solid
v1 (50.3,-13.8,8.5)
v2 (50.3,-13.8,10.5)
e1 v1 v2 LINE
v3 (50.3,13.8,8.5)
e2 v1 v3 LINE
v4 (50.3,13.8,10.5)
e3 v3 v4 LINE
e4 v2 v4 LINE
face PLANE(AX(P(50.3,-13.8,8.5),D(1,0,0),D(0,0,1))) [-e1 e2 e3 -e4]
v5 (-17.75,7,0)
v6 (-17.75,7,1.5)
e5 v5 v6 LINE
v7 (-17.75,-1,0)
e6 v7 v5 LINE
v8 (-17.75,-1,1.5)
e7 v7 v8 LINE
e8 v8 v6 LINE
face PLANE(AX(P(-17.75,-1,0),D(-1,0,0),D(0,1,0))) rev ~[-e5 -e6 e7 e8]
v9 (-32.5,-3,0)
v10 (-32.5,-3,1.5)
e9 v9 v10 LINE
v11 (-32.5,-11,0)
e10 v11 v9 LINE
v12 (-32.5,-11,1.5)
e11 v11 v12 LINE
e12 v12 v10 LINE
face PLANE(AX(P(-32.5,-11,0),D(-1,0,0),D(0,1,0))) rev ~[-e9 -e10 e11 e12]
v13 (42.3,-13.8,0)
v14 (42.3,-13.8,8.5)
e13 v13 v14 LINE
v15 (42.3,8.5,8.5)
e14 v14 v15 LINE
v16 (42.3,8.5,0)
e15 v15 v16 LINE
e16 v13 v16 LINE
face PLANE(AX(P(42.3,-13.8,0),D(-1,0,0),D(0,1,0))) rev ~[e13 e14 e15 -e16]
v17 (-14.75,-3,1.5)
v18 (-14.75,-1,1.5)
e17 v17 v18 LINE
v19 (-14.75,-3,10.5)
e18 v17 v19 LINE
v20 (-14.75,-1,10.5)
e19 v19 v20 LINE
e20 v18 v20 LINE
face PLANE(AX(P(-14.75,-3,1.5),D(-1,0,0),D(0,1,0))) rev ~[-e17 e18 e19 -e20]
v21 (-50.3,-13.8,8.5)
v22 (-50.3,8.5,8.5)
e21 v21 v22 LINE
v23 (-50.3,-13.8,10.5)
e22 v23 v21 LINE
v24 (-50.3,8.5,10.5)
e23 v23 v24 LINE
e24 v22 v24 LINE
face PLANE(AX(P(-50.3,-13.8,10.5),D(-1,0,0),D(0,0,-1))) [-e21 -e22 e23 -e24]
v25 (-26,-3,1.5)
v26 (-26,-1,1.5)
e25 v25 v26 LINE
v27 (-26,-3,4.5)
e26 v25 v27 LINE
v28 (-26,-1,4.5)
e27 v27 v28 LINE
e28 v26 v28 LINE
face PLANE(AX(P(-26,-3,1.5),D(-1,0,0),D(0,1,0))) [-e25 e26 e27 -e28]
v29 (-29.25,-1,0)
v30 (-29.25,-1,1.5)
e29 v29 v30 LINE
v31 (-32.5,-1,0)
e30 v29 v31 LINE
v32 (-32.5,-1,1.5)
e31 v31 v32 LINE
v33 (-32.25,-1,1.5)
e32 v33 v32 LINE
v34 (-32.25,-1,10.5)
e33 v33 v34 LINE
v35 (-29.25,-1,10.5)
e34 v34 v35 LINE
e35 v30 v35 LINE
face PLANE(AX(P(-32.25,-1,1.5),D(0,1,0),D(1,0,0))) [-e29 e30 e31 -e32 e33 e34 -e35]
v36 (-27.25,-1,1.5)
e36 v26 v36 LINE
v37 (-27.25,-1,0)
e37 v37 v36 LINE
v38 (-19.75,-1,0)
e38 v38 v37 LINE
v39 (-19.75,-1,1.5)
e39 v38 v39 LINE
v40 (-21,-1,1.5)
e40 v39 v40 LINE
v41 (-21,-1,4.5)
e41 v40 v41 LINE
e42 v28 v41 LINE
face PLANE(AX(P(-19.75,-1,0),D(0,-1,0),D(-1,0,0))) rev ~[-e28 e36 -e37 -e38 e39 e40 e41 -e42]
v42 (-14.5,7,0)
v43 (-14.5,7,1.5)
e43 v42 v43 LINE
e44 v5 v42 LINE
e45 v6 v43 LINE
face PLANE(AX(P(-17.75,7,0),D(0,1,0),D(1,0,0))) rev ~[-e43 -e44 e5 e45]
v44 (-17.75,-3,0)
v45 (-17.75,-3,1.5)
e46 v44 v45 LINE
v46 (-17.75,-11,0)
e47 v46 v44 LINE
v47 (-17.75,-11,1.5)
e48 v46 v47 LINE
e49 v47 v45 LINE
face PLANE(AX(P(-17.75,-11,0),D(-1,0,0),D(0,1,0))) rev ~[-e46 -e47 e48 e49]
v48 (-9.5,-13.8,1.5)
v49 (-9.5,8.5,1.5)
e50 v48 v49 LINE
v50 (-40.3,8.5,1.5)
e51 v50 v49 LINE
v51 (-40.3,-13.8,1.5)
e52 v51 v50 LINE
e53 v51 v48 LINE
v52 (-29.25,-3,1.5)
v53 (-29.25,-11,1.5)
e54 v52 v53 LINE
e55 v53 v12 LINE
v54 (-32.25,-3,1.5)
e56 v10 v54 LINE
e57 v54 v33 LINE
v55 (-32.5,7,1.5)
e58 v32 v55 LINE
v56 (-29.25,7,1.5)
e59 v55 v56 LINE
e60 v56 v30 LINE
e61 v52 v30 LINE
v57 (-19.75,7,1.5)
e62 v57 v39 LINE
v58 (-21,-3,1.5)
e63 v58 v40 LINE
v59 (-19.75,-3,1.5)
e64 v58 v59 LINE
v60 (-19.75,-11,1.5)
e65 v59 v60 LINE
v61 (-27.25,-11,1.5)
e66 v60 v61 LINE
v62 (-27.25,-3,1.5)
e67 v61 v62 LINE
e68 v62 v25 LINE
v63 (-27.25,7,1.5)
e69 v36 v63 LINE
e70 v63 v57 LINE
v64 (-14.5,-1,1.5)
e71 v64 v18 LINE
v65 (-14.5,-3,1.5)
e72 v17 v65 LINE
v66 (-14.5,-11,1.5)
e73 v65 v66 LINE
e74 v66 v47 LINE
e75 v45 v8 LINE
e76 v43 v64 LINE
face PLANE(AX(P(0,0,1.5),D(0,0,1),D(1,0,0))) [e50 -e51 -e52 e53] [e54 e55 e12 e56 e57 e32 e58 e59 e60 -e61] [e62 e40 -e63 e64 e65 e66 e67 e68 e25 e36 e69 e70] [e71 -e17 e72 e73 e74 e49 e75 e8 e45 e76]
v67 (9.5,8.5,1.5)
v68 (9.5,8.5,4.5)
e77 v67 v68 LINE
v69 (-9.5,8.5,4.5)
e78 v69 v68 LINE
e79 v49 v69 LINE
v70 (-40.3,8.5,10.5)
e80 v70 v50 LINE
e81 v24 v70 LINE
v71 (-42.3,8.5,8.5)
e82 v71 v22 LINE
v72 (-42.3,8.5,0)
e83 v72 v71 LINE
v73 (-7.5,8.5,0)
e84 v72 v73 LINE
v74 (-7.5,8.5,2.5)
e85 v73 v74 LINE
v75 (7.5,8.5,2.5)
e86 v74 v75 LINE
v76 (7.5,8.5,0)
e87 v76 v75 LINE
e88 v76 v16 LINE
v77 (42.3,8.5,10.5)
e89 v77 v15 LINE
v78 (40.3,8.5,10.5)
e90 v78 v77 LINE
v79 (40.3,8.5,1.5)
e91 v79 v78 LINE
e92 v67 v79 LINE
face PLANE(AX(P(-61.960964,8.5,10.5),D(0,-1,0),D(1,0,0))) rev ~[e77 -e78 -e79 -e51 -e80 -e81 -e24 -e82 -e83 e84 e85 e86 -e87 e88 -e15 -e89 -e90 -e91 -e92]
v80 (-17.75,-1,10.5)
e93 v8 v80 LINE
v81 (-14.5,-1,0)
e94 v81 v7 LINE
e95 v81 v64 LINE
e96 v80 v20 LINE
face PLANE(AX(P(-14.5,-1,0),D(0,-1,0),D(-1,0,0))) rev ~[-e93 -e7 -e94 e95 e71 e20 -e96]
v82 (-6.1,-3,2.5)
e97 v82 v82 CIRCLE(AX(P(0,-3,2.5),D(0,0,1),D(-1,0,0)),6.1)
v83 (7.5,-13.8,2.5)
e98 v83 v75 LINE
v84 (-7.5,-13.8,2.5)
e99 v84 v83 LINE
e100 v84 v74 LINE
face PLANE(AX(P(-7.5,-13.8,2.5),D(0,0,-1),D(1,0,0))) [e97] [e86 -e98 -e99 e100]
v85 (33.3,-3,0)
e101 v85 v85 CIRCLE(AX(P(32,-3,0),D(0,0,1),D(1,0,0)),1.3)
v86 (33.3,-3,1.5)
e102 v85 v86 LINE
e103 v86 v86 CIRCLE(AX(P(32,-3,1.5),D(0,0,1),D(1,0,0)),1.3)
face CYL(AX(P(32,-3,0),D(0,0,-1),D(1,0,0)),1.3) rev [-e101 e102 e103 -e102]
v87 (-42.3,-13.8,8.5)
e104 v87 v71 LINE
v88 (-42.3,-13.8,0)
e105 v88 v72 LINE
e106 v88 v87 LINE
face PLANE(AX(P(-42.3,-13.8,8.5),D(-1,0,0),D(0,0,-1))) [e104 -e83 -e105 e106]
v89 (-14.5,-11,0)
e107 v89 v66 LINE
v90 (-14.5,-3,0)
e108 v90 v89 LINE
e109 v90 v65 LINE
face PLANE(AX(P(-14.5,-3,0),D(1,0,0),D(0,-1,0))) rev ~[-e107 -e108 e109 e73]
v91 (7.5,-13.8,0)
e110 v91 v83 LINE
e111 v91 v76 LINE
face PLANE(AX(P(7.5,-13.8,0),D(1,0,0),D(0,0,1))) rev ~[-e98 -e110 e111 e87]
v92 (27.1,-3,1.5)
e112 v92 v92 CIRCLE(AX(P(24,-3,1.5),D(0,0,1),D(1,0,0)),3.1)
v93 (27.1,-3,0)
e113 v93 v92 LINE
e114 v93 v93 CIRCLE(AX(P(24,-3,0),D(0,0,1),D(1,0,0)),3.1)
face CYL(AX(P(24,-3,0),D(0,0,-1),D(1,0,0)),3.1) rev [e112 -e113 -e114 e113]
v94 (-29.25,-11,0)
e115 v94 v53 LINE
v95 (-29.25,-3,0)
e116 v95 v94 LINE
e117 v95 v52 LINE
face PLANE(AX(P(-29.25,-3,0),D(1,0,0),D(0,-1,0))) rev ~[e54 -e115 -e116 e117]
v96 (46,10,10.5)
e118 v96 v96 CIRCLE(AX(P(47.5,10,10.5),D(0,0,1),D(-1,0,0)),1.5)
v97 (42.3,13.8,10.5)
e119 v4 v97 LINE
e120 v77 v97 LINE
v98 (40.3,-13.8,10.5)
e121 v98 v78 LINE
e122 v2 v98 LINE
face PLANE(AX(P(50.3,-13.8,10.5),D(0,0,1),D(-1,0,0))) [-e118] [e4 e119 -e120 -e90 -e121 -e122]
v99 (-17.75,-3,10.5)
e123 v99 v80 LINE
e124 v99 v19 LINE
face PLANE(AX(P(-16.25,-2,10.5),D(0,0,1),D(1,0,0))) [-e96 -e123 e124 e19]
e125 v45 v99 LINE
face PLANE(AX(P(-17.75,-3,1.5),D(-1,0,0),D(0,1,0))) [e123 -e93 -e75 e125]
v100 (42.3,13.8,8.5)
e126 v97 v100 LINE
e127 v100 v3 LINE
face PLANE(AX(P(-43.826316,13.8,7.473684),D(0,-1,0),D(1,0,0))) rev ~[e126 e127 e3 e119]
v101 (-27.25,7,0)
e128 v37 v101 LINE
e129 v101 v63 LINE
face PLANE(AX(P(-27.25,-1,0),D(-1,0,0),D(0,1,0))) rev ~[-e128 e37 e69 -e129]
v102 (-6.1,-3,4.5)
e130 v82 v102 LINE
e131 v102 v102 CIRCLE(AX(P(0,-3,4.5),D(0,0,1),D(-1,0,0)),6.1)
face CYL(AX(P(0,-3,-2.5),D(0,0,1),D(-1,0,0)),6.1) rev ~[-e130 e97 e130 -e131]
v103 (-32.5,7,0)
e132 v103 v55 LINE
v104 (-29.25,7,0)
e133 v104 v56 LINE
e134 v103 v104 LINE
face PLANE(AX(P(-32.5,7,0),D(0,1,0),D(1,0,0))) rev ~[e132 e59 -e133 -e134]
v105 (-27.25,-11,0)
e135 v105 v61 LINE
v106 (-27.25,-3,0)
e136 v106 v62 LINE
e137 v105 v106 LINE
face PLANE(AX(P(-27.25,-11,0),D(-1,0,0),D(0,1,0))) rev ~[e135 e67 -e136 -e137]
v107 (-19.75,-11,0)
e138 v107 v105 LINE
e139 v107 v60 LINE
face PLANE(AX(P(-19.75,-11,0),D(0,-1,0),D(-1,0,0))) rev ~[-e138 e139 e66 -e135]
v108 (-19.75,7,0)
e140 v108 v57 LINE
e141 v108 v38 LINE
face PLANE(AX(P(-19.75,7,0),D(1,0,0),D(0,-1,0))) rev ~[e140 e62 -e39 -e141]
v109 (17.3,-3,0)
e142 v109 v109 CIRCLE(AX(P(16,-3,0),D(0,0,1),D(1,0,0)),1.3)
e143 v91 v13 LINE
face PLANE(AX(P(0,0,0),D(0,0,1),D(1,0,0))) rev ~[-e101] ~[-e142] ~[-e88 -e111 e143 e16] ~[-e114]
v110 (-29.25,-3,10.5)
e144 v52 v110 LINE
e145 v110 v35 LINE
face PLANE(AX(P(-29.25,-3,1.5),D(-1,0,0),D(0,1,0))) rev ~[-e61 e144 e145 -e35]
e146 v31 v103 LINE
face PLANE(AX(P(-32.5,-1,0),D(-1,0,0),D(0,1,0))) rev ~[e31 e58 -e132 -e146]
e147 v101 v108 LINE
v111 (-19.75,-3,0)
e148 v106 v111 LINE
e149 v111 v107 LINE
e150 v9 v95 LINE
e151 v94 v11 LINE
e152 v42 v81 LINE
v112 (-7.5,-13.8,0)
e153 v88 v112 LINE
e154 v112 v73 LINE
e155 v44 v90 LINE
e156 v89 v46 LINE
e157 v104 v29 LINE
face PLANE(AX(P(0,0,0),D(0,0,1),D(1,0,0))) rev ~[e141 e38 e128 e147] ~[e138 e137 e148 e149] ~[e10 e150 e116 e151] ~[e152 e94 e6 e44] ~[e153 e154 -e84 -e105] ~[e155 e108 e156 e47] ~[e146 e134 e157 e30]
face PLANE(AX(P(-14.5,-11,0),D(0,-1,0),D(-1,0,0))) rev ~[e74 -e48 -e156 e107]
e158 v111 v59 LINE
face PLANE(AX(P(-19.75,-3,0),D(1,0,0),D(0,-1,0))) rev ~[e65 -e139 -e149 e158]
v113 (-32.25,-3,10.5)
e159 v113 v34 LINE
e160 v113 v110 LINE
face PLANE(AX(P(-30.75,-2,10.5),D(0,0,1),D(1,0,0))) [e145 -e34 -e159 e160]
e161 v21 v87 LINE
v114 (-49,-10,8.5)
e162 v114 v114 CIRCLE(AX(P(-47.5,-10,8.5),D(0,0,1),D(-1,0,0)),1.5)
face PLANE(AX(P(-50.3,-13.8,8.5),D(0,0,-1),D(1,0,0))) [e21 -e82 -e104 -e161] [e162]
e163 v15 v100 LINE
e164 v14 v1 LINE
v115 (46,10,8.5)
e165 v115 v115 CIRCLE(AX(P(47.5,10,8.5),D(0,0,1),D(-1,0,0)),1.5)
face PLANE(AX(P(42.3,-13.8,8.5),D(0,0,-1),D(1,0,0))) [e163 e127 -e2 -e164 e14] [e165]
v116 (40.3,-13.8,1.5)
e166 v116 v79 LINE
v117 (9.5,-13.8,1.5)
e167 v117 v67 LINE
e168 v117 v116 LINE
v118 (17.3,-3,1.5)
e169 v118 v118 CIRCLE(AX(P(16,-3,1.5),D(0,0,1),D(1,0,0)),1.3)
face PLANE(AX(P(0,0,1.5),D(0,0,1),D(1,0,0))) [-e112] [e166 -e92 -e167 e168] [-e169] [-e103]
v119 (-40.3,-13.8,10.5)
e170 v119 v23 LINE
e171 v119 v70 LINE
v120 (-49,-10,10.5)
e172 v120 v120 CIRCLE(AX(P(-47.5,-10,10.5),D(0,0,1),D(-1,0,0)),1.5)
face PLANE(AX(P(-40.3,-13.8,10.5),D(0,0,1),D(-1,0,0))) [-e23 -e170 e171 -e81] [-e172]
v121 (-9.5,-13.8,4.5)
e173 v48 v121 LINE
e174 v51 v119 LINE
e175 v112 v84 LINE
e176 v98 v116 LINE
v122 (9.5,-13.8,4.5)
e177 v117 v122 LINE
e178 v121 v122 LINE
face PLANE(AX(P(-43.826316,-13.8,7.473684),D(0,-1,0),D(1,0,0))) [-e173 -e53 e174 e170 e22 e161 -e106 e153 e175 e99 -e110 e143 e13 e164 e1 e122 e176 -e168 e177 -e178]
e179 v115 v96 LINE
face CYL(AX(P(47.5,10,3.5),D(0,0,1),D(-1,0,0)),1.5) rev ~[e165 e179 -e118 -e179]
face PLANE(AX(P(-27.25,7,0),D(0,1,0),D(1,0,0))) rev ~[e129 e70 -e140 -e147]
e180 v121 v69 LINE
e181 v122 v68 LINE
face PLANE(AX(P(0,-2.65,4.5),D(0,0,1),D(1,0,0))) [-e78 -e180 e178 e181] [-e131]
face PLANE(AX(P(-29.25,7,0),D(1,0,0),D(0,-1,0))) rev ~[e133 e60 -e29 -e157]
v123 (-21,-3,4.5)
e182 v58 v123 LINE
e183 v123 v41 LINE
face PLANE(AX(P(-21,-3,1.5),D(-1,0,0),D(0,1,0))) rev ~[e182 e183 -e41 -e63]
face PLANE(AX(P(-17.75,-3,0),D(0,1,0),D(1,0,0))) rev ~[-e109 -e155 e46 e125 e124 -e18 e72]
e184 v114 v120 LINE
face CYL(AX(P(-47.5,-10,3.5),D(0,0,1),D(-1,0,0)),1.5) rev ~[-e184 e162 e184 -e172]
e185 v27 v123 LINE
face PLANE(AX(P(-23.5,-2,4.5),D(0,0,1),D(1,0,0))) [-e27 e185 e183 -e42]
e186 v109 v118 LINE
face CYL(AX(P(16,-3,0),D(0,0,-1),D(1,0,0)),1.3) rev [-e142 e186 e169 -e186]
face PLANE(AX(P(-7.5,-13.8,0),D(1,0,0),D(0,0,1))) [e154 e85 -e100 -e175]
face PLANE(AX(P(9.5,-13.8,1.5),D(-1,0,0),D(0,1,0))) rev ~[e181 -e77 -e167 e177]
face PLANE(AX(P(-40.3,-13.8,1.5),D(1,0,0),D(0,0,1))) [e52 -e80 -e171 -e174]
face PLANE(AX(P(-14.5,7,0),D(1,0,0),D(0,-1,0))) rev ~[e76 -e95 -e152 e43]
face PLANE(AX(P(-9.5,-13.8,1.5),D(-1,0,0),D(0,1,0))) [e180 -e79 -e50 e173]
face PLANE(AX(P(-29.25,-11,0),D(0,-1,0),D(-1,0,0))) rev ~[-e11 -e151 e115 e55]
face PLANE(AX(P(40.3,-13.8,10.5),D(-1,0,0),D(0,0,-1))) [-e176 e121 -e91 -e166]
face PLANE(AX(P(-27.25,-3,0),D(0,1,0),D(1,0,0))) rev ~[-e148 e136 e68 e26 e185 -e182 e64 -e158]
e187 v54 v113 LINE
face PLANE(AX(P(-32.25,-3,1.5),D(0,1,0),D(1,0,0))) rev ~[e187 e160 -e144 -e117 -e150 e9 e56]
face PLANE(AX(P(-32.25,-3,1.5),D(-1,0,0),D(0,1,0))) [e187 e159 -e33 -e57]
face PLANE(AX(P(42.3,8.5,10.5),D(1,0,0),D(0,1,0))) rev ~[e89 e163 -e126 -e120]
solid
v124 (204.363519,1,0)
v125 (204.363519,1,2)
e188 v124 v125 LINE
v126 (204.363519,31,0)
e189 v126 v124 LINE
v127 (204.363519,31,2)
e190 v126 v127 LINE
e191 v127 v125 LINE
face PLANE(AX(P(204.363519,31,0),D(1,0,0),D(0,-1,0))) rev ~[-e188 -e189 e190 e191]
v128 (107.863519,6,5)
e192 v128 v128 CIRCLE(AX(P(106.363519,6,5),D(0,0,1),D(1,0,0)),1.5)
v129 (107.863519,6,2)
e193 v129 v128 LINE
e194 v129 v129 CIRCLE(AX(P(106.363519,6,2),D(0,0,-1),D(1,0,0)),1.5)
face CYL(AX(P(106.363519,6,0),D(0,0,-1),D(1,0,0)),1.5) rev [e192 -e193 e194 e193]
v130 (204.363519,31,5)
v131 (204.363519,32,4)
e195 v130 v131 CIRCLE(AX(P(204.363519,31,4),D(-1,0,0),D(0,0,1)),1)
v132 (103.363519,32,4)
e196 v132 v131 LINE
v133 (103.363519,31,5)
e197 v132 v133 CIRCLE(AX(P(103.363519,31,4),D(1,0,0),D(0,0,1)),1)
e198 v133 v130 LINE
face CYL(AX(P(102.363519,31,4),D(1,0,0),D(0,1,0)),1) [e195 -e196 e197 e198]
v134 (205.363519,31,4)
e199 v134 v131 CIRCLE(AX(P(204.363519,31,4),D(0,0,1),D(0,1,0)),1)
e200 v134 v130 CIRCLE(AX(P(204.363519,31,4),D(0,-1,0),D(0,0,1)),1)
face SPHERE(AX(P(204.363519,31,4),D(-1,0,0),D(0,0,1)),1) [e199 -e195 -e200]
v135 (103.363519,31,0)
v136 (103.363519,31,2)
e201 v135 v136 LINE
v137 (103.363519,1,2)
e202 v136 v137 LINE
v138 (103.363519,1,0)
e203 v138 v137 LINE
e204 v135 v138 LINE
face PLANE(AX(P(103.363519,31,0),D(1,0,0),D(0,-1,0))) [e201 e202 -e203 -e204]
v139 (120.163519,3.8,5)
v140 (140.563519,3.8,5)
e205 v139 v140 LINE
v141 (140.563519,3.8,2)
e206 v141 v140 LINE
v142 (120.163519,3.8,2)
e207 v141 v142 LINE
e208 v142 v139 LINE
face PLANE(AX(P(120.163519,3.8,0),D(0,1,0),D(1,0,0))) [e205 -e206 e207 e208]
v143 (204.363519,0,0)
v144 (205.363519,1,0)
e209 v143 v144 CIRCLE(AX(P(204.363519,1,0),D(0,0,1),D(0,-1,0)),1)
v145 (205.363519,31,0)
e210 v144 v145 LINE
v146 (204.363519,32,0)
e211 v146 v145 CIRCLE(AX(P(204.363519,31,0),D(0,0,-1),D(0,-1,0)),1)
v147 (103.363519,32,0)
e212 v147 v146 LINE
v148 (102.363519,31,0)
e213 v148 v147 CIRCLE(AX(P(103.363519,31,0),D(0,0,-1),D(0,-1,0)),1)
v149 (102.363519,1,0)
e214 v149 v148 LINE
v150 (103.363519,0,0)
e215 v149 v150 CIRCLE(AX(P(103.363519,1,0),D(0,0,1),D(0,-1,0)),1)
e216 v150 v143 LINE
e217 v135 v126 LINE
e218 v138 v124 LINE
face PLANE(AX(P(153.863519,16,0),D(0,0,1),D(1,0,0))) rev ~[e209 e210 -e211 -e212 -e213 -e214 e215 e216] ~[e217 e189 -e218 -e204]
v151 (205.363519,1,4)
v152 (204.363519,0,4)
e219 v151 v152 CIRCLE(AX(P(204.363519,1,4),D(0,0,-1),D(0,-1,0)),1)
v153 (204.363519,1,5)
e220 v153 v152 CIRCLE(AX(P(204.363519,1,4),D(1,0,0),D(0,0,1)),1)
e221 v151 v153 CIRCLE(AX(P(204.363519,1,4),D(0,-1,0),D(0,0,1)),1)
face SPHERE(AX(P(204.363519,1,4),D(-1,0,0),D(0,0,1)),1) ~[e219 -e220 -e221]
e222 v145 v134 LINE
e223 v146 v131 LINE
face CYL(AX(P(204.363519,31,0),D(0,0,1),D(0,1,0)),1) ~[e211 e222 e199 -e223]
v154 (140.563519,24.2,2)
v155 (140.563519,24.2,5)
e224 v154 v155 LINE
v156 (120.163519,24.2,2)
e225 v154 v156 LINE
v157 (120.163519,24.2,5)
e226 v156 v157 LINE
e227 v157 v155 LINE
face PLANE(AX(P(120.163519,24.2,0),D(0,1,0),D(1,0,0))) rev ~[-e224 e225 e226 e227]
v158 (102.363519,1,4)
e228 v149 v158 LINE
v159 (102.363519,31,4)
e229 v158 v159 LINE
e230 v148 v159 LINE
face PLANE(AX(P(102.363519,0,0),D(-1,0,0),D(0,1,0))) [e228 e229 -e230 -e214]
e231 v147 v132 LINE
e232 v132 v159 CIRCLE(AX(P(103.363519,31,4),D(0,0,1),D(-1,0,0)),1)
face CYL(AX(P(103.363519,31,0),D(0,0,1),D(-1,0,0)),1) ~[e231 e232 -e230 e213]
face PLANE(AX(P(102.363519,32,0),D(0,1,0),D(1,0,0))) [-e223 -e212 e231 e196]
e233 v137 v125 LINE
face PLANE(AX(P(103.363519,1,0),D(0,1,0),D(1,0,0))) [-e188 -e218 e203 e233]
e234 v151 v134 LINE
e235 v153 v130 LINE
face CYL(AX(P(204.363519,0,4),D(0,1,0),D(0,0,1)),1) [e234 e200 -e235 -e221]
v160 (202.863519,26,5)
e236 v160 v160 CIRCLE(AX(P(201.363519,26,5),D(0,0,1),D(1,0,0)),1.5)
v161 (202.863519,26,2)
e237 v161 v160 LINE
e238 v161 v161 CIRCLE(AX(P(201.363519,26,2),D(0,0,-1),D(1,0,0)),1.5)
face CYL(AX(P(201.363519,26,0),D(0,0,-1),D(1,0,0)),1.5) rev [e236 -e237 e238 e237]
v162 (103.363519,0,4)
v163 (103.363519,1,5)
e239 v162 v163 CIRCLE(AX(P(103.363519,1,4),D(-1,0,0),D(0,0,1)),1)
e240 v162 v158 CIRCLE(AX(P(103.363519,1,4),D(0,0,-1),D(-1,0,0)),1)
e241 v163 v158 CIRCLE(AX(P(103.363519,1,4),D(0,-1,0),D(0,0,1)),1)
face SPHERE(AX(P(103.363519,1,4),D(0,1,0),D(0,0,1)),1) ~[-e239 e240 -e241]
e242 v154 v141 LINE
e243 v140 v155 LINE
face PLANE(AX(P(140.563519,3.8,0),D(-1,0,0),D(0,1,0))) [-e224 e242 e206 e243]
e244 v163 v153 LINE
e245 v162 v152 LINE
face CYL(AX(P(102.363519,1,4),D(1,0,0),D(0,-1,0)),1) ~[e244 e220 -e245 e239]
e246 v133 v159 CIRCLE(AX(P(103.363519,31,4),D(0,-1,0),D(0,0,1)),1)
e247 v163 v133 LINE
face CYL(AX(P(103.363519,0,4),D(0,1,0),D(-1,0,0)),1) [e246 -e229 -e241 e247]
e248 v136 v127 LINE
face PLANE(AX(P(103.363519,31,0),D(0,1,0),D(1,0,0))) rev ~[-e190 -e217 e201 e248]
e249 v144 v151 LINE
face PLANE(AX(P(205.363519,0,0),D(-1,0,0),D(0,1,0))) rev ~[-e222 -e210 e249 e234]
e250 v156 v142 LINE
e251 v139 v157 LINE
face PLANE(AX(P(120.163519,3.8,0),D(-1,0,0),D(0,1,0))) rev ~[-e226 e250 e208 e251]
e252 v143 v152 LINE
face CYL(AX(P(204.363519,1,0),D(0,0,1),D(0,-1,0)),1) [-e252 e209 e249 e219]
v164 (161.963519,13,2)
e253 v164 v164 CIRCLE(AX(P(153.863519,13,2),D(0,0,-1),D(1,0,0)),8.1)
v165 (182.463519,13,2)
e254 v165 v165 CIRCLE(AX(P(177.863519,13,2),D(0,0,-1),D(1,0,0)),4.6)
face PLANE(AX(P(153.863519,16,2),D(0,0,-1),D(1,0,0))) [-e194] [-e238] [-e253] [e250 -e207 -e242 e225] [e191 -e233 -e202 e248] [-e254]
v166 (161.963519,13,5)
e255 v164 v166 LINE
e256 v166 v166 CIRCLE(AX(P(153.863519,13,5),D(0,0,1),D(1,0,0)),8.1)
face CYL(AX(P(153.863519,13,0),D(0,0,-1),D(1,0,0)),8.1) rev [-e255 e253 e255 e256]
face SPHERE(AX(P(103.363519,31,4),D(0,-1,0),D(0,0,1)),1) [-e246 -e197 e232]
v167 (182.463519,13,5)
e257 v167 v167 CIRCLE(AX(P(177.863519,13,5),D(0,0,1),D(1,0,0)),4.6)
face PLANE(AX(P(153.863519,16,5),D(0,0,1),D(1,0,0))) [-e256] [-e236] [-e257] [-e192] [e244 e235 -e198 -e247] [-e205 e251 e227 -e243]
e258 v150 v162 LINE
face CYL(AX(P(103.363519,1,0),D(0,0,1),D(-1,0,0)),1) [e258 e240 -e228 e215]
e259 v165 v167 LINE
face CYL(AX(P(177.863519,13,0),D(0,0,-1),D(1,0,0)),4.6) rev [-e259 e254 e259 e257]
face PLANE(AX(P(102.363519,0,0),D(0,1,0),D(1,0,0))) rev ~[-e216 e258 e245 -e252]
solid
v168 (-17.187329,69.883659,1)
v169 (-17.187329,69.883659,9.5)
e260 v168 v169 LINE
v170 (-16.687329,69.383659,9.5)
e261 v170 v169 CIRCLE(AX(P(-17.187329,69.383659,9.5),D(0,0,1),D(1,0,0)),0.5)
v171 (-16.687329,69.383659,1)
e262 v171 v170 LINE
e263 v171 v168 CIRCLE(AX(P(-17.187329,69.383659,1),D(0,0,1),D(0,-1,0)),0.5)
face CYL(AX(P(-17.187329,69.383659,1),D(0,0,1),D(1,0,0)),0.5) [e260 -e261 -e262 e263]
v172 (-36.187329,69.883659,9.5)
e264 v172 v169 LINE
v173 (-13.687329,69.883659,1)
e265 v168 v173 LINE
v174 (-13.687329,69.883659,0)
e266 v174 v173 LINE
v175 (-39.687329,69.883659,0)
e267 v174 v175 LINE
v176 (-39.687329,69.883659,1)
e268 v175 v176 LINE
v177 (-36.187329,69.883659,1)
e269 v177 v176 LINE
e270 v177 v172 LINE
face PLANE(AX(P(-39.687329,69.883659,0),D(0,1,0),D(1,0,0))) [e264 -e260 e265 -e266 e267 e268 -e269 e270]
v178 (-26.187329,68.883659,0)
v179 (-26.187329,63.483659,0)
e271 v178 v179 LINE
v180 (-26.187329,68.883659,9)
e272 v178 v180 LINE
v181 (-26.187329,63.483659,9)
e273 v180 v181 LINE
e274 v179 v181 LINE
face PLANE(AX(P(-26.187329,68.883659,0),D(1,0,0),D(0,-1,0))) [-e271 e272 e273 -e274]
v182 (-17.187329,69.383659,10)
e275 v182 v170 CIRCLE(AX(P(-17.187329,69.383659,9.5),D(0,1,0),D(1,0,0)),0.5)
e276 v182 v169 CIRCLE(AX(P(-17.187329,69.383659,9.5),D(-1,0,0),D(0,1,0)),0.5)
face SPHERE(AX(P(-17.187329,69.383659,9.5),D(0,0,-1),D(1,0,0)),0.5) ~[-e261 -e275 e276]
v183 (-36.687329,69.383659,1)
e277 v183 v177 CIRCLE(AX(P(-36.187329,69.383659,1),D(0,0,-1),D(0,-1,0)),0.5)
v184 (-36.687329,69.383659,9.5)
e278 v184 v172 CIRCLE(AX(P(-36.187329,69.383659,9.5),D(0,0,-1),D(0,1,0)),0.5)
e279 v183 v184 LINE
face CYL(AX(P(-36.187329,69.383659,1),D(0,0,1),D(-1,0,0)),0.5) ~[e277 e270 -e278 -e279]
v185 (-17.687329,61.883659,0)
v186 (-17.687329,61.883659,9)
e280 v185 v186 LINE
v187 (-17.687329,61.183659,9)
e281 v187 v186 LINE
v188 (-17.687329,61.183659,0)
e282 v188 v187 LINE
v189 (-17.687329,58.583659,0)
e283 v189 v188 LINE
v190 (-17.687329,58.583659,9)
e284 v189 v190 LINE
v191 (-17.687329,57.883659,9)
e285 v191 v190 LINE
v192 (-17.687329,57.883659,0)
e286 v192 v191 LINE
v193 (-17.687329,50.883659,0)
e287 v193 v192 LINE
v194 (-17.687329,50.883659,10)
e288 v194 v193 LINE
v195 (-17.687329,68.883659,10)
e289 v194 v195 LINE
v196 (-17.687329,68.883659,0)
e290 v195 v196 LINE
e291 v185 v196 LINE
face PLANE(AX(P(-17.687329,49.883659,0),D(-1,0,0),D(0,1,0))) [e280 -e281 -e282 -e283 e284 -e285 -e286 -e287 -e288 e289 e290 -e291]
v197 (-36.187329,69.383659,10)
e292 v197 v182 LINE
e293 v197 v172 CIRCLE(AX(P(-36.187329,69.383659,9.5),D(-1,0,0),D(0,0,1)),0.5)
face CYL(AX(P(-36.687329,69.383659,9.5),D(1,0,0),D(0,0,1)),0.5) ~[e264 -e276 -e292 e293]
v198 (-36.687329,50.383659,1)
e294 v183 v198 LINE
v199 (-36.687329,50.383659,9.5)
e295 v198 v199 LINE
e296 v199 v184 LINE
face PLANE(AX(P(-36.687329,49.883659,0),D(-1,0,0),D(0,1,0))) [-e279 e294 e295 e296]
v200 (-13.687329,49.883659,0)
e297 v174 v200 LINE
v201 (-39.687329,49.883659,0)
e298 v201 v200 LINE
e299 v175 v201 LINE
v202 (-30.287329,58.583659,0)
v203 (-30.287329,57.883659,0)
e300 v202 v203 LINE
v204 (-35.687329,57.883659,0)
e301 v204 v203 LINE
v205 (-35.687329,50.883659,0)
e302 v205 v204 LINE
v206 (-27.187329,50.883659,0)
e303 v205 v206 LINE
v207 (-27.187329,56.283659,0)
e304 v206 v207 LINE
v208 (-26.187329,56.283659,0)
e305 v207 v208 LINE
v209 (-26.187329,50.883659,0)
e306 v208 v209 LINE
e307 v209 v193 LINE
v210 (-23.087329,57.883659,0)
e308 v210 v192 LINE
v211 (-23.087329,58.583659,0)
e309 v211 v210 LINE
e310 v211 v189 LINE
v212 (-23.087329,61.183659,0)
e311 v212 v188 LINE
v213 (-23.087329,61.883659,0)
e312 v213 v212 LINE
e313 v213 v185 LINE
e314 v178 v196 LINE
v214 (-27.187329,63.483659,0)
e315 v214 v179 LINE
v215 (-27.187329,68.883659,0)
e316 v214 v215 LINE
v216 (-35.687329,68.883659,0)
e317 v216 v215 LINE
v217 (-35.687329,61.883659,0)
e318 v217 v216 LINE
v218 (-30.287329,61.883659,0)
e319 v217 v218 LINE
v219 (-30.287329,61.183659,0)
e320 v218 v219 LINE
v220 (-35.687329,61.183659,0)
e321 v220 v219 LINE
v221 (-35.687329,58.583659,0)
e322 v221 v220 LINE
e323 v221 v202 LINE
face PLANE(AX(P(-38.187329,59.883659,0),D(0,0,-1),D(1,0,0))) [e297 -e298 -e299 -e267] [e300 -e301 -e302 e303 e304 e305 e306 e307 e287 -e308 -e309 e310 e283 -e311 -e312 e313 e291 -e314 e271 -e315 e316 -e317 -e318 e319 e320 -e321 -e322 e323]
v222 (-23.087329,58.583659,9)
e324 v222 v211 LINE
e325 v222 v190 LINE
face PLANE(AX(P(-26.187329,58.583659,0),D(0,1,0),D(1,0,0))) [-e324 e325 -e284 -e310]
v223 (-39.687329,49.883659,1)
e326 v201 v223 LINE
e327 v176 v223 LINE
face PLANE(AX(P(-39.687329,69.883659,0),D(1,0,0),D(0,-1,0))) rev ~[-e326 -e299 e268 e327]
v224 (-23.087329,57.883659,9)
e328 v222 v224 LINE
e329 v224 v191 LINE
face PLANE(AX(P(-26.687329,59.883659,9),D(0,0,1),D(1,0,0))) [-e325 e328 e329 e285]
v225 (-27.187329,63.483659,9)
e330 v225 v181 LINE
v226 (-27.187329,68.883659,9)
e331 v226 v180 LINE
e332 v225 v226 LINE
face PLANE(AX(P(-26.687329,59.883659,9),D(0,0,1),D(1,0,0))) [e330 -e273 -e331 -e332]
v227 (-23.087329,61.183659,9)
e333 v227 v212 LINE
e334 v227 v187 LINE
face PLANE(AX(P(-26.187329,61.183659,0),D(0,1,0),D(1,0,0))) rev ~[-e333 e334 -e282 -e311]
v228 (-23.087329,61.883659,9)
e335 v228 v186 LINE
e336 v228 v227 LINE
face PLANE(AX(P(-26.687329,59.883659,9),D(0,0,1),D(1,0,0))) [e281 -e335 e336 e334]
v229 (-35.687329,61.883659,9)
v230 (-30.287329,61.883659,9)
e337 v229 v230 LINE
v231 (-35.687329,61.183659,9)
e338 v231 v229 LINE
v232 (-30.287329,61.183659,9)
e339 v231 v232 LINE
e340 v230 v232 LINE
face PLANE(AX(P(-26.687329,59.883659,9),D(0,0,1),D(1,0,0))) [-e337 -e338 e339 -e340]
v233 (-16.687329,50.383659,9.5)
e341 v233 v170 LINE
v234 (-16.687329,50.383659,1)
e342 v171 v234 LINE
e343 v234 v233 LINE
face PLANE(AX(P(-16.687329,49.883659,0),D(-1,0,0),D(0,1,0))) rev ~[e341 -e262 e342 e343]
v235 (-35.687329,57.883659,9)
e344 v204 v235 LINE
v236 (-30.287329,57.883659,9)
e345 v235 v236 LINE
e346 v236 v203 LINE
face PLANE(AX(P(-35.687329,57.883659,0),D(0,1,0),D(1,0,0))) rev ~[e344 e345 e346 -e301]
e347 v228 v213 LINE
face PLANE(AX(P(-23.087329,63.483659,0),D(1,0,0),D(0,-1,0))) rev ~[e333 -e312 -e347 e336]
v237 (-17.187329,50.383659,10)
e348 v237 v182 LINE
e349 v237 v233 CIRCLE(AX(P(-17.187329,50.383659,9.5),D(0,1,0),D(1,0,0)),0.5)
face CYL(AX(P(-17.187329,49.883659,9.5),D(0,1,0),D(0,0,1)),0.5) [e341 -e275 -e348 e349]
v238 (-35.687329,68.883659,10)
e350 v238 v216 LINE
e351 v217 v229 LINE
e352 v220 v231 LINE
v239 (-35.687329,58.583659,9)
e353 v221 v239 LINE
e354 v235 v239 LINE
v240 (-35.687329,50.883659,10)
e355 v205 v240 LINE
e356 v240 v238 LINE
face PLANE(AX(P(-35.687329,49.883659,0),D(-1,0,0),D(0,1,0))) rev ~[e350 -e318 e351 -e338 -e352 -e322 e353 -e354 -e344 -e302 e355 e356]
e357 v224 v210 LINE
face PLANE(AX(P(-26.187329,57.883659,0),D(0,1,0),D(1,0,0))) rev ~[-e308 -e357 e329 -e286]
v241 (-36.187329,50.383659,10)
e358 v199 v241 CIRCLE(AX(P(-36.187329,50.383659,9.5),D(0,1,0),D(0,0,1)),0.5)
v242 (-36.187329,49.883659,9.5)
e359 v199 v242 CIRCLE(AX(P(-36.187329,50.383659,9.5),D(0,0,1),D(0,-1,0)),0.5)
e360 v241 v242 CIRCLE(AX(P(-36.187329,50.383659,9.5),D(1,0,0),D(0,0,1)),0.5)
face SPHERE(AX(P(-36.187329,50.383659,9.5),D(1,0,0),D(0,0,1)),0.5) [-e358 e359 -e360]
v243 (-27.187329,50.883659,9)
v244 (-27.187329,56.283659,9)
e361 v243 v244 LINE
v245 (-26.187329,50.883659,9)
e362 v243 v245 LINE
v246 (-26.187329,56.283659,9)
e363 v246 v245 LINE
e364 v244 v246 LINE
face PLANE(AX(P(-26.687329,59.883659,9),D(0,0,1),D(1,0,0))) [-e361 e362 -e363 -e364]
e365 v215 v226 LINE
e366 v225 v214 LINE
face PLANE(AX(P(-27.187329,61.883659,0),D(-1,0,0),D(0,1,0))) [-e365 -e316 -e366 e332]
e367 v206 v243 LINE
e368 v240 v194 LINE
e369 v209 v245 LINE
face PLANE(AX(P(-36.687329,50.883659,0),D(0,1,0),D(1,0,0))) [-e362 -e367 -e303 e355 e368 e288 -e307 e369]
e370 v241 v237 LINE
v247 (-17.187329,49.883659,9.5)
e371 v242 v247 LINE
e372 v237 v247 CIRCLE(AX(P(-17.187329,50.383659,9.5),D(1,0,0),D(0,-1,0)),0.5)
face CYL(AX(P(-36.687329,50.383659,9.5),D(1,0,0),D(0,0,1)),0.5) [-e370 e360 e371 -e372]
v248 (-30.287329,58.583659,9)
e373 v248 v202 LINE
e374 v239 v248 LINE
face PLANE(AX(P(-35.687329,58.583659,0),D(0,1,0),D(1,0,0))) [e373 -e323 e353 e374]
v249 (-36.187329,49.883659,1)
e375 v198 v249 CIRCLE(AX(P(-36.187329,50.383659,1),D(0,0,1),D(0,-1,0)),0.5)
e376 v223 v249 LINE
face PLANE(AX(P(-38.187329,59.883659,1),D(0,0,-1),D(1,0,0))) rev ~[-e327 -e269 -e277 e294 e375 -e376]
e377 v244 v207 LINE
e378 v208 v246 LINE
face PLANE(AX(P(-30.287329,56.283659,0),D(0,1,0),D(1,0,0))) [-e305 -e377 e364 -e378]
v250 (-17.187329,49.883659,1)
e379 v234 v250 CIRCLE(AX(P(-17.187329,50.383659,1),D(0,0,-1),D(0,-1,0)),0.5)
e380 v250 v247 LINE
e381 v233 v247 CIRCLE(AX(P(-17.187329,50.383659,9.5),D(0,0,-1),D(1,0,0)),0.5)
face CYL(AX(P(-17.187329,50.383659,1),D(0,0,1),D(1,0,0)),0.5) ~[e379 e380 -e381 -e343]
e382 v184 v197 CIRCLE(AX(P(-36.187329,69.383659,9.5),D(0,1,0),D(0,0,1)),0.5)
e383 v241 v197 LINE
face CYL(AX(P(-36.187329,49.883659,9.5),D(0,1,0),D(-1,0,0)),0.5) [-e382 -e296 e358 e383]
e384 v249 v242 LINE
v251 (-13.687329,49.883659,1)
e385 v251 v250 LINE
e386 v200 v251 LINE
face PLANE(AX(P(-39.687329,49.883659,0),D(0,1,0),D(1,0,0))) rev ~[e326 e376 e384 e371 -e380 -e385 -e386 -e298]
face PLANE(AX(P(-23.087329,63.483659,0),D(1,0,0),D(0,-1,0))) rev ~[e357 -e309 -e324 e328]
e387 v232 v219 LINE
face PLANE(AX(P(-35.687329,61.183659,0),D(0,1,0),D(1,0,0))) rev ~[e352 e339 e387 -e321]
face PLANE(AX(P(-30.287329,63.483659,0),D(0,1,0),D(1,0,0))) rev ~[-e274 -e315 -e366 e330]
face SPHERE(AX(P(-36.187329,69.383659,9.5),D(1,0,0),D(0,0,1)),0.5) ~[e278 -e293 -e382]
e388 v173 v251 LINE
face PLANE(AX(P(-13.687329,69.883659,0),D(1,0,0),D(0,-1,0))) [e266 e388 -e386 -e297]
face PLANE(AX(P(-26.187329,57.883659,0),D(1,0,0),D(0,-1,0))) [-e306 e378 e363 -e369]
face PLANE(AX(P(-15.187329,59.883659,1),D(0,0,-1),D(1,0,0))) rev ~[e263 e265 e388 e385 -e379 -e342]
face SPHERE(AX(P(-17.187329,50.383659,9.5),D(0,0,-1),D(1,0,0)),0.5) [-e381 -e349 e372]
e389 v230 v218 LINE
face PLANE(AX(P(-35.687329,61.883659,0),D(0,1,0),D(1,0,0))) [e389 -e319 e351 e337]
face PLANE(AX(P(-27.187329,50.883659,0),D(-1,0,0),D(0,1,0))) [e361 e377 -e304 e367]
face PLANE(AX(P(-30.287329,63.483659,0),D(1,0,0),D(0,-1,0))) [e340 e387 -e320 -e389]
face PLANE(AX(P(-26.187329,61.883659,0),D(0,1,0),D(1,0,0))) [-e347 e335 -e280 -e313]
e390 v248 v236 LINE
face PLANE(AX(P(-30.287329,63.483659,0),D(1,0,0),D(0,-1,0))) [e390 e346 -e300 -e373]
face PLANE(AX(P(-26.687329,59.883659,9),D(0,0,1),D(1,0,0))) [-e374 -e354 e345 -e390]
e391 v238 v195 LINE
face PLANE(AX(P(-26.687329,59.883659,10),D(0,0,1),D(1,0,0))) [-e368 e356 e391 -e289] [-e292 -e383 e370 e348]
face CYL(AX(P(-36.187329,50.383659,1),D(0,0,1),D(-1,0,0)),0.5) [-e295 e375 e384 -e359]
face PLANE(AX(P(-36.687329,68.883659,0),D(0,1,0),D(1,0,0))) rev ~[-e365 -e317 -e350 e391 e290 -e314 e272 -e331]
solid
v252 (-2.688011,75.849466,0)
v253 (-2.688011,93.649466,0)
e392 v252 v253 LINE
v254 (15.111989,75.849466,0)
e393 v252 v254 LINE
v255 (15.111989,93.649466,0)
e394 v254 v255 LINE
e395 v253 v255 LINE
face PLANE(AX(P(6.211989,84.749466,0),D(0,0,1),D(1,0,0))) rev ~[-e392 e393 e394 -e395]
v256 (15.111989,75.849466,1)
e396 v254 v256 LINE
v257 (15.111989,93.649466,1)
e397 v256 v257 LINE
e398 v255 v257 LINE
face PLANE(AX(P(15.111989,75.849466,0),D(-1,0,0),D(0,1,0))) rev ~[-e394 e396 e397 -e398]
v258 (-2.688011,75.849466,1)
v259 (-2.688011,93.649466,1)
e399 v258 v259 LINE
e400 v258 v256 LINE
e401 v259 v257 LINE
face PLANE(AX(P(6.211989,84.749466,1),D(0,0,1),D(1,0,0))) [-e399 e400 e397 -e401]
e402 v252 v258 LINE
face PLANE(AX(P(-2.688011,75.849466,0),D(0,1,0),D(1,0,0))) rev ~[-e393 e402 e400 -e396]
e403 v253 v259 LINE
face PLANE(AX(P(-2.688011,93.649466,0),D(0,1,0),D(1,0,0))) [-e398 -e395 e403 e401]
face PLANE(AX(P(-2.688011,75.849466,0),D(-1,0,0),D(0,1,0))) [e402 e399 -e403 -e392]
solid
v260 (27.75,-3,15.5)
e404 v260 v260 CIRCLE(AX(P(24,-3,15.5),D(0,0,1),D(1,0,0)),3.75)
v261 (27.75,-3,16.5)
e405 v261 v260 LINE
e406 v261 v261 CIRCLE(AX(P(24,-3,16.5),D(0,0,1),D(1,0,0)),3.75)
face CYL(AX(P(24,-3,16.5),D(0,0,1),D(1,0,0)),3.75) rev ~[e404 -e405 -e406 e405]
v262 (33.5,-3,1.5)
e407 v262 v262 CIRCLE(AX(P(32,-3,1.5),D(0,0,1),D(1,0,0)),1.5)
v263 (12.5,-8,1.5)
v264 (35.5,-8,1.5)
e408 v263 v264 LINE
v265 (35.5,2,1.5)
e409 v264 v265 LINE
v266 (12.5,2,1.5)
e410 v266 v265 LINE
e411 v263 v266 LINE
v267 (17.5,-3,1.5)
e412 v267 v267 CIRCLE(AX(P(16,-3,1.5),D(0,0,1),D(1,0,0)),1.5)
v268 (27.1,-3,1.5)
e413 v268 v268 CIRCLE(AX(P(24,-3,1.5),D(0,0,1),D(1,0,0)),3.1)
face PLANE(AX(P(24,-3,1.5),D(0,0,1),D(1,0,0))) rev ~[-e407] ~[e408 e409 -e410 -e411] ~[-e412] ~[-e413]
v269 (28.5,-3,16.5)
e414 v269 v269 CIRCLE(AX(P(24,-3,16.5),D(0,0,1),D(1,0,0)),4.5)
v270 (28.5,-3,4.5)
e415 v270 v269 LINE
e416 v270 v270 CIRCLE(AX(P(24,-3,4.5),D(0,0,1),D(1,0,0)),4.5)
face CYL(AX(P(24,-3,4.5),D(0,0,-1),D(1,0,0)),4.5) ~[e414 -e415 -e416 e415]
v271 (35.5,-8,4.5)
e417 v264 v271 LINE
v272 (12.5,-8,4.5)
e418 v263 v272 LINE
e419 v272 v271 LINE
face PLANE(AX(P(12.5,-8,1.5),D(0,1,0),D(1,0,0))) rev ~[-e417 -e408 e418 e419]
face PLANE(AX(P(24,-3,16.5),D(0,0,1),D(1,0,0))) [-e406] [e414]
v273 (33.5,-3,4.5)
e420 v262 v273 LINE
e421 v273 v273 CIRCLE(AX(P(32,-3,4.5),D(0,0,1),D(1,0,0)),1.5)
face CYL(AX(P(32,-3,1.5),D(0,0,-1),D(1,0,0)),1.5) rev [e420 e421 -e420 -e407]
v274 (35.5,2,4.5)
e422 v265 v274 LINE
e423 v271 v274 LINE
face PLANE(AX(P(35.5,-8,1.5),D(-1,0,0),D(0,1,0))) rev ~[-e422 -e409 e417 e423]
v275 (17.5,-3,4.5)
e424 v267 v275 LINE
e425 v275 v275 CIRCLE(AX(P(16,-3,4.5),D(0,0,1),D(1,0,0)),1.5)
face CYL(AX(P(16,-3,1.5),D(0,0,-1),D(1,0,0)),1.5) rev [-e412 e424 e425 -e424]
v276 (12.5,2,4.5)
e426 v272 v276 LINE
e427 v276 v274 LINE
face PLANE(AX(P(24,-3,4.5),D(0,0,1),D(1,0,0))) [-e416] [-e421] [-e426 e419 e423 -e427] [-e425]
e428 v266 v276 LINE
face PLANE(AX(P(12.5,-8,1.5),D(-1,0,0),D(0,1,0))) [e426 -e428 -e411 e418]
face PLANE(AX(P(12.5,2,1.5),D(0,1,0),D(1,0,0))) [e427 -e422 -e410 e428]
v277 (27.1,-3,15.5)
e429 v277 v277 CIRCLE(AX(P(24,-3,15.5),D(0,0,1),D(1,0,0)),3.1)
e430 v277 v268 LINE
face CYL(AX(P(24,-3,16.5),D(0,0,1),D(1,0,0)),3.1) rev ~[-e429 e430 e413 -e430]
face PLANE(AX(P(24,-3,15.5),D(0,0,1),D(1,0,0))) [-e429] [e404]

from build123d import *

# Parameters (mm, degrees)
F0_W      = 84.6
F0_H      = 27.6
F0_R      = 1.3
F0_R_2    = 3.1
F1_DEPTH  = 1.5
F2_W      = 3
F2_H      = 2
F3_DEPTH  = 9
F4_W      = 20
F4_H      = 20
F5_DEPTH  = 10
F6_T      = -1
F7_W      = 8.5
F7_H      = 0.7
F8_DEPTH  = 9
F9_W      = 7.2
F9_H      = 7.2
F10_DEPTH = 9
F11_W     = 3
F11_H     = 20
F12_DEPTH = 1
F13_W     = 18
F13_H     = 18
F14_DEPTH = 1
F15_R     = 0.5
F4_W_2    = 17.8
F4_H_2    = 17.8
F16_DEPTH = 1
F17_W     = 5
F17_H     = 2
F18_DEPTH = 3
F19_W     = 103
F19_H     = 32
F19_R     = 1.5
F19_W_2   = 20.4
F19_H_2   = 20.4
F19_R_2   = 8.1
F19_R_3   = 4.6
F20_DEPTH = 5
F21_W     = 101
F21_H     = 30
F22_DEPTH = 2
F23_R     = 1
F24_W     = 8
F24_H     = 2
F25_DEPTH = 27.6
F26_D     = 3
F26_DEPTH = 5
F26_START = 8.5
F26_TIP   = 0.9012909285
F27_W     = 23
F27_H     = 10
F27_R     = 1.5
F28_DEPTH = 3
F29_R     = 4.5
F30_DEPTH = 12
F31_R     = 3.1
F32_DEPTH = 25
F33_W     = 104.2609636947
F33_H     = 5.3
F34_DEPTH = 25
F35_W     = 19
F35_H     = 22.3
F36_DEPTH = 3
F37_DEPTH = 3
F38_W     = 15
F38_H     = 2.5
F39_DEPTH = 30.4
F40_D     = 12.2
F40_DEPTH = 5
F40_START = 2.5
F40_TIP   = 3.6652497761
F41_R     = 3.75
F42_DEPTH = 1


with BuildPart() as f1:
    # F0 (on Top) → F1 (new body)
    with BuildSketch(Plane.XY):
        Rectangle(F0_W, F0_H)
        Polygon((-32.5, -1), (-32.5, 7), (-29.25, 7), (-27.25, 7), (-19.75, 7), (-17.75, 7), (-14.5, 7), (-14.5, -1), (-14.5, -3), (-14.5, -11), (-17.75, -11), (-19.75, -11), (-27.25, -11), (-29.25, -11), (-32.5, -11), (-32.5, -3), align=None, mode=Mode.SUBTRACT)
        with Locations((16, -3)):
            Circle(F0_R, mode=Mode.SUBTRACT)
        with Locations((24, -3)):
            Circle(F0_R_2, mode=Mode.SUBTRACT)
        with Locations((32, -3)):
            Circle(F0_R, mode=Mode.SUBTRACT)
        Polygon((-27.25, 7), (-29.25, 7), (-29.25, -1), (-32.5, -1), (-32.5, -3), (-29.25, -3), (-29.25, -11), (-27.25, -11), (-27.25, -3), (-19.75, -3), (-19.75, -11), (-17.75, -11), (-17.75, -3), (-14.5, -3), (-14.5, -1), (-17.75, -1), (-17.75, 7), (-19.75, 7), (-19.75, -1), (-27.25, -1), align=None)
    extrude(amount=F1_DEPTH)

    # F2 (on face) → F3 (join)
    with BuildSketch(Plane.XY.offset(1.5)):
        with Locations((-30.75, -2)):
            Rectangle(F2_W, F2_H)
        with Locations((-16.25, -2)):
            Rectangle(F2_W, F2_H)
    extrude(amount=F3_DEPTH)

    # F17 (on face) → F18 (join)
    with BuildSketch(Plane.XY.offset(1.5)):
        with Locations((-23.5, -2)):
            Rectangle(F17_W, F17_H)
    extrude(amount=F18_DEPTH)

    # F24 (on face) → F25 (join)
    with BuildSketch(Plane.XZ.offset(13.8)):
        Polygon((-42.3, 8.5), (-42.3, 1.5), (-40.3, 1.5), (-40.3, 10.5), (-50.3, 10.5), (-50.3, 8.5), align=None)
        Polygon((42.3, 8.5), (42.3, 10.5), (40.3, 10.5), (40.3, 1.5), (42.3, 1.5), align=None)
        with Locations((46.3, 9.5)):
            Rectangle(F24_W, F24_H)
    extrude(amount=-F25_DEPTH)

    # F26
    # its depths count from where the whole tool has entered the part; down to there all is cleared
    with Locations(Plane(origin=(0, 0, 0), x_dir=(1, 0, 0), z_dir=(0, 0, -1))):
        with Locations((-47.5, 10), (47.5, -10)):
            Hole(F26_D / 2, depth=F26_START)
    with Locations(Plane(origin=(0, 0, 0), x_dir=(1, 0, 0), z_dir=(0, 0, -1)).offset(-F26_START)):
        with Locations((-47.5, 10), (47.5, -10)):
            Hole(F26_D / 2, depth=F26_DEPTH)
            with Locations((0, 0, -(F26_DEPTH + F26_TIP / 2))):  # 118° drill point
                Cone(0, F26_D / 2, F26_TIP, mode=Mode.SUBTRACT)

    # F33 (on face) → F34 (cut)
    with BuildSketch(Plane.XY.offset(10.5)):
        with Locations((-9.8304818473, 11.15)):
            Rectangle(F33_W, F33_H)
    extrude(amount=-F34_DEPTH, mode=Mode.SUBTRACT)

    # F35 (on face) → F36 (join)
    with BuildSketch(Plane.XY.offset(1.5)):
        with Locations((0, -2.65)):
            Rectangle(F35_W, F35_H)
    extrude(amount=F36_DEPTH)

    # F35 (on face) → F37 (join)
    with BuildSketch(Plane.XY.offset(1.5)):
        with Locations((0, -2.65)):
            Rectangle(F35_W, F35_H)
    extrude(amount=F37_DEPTH)

    # F38 (on face) → F39 (cut)
    with BuildSketch(Plane.XZ.offset(13.8)):
        with Locations((0, 1.25)):
            Rectangle(F38_W, F38_H)
    extrude(amount=-F39_DEPTH, mode=Mode.SUBTRACT)

    # F40
    # its depths count from where the whole tool has entered the part; down to there all is cleared
    with Locations(Plane(origin=(0, 0, 0), x_dir=(1, 0, 0), z_dir=(0, 0, -1)).offset(-F40_START)):
        with Locations((0, 3)):
            Hole(F40_D / 2, depth=F40_DEPTH)
            with Locations((0, 0, -(F40_DEPTH + F40_TIP / 2))):  # 118° drill point
                Cone(0, F40_D / 2, F40_TIP, mode=Mode.SUBTRACT)


with BuildPart() as f5:
    # F4 (on Top) → F5 (new body)
    with BuildSketch(Plane.XY):
        with Locations((-26.6873294115, 59.883659482)):
            Rectangle(F4_W, F4_H)
    extrude(amount=F5_DEPTH)

    # F6
    f6_openings = [f5.faces().sort_by_distance(p)[0] for p in [
        (-26.687329, 59.883659, 0),
    ]]
    offset(amount=F6_T, openings=f6_openings)

    # F7 (on face) → F8 (join)
    with BuildSketch(Plane(origin=(0, 0, 0), x_dir=(1, 0, 0), z_dir=(0, 0, -1))):
        with Locations((-31.4373294115, -58.233659482)):
            Rectangle(F7_W, F7_H)
        Polygon((-27.1873294115, -50.883659482), (-27.1873294115, -57.883659482), (-27.1873294115, -58.583659482), (-27.1873294115, -61.183659482), (-27.1873294115, -61.883659482), (-27.1873294115, -68.883659482), (-26.1873294115, -68.883659482), (-26.1873294115, -61.883659482), (-26.1873294115, -61.183659482), (-26.1873294115, -58.583659482), (-26.1873294115, -57.883659482), (-26.1873294115, -50.883659482), align=None)
        with Locations((-31.4373294115, -61.533659482)):
            Rectangle(F7_W, F7_H)
        with Locations((-21.9373294115, -58.233659482)):
            Rectangle(F7_W, F7_H)
        with Locations((-21.9373294115, -61.533659482)):
            Rectangle(F7_W, F7_H)
    extrude(amount=-F8_DEPTH)

    # F9 (on face) → F10 (cut)
    with BuildSketch(Plane(origin=(0, 0, 0), x_dir=(1, 0, 0), z_dir=(0, 0, -1))):
        with Locations((-26.6873294115, -59.883659482)):
            Rectangle(F9_W, F9_H)
    extrude(amount=-F10_DEPTH, mode=Mode.SUBTRACT)

    # F11 (on face) → F12 (join)
    with BuildSketch(Plane(origin=(0, 0, 0), x_dir=(1, 0, 0), z_dir=(0, 0, -1))):
        with Locations((-38.1873294115, -59.883659482)):
            Rectangle(F11_W, F11_H)
        with Locations((-15.1873294115, -59.883659482)):
            Rectangle(F11_W, F11_H)
    extrude(amount=-F12_DEPTH)

    # F13 (on face) → F14 (cut)
    with BuildSketch(Plane.XY.offset(10)):
        with Locations((-26.6873294115, 59.883659482)):
            Rectangle(F13_W, F13_H)
    extrude(amount=-F14_DEPTH, mode=Mode.SUBTRACT)

    # F15
    f15_edges = [f5.edges().sort_by_distance(p)[0] for p in [
        (-16.687329, 49.883659, 5.5),
        (-16.687329, 69.883659, 5.5),
        (-16.687329, 59.883659, 10),
        (-26.687329, 69.883659, 10),
        (-26.687329, 49.883659, 10),
        (-36.687329, 59.883659, 10),
        (-36.687329, 49.883659, 5.5),
        (-36.687329, 69.883659, 5.5),
    ]]
    fillet(f15_edges, radius=F15_R)


with BuildPart() as f16:
    # F4 (on Top) → F16 (new body)
    with BuildSketch(Plane.XY):
        with Locations((6.2119890019, 84.7494660258)):
            Rectangle(F4_W_2, F4_H_2)
    extrude(amount=F16_DEPTH)


with BuildPart() as f20:
    # F19 (on Top) → F20 (new body)
    with BuildSketch(Plane.XY):
        with Locations((153.8635194302, 16)):
            Rectangle(F19_W, F19_H)
        with Locations((106.3635194302, 6)):
            Circle(F19_R, mode=Mode.SUBTRACT)
        with Locations((130.3635194302, 14)):
            Rectangle(F19_W_2, F19_H_2, mode=Mode.SUBTRACT)
        with Locations((153.8635194302, 13)):
            Circle(F19_R_2, mode=Mode.SUBTRACT)
        with Locations((177.8635194302, 13)):
            Circle(F19_R_3, mode=Mode.SUBTRACT)
        with Locations((201.3635194302, 26)):
            Circle(F19_R, mode=Mode.SUBTRACT)
    extrude(amount=F20_DEPTH)

    # F21 (on face) → F22 (cut)
    with BuildSketch(Plane(origin=(0, 0, 0), x_dir=(1, 0, 0), z_dir=(0, 0, -1))):
        with Locations((153.8635194302, -16)):
            Rectangle(F21_W, F21_H)
    extrude(amount=-F22_DEPTH, mode=Mode.SUBTRACT)

    # F23
    f23_edges = [f20.edges().sort_by_distance(p)[0] for p in [
        (102.363519, 16, 5),
        (153.863519, 32, 5),
        (153.863519, 0, 5),
        (205.363519, 16, 5),
        (205.363519, 32, 2.5),
        (205.363519, 0, 2.5),
        (102.363519, 32, 2.5),
        (102.363519, 0, 2.5),
    ]]
    fillet(f23_edges, radius=F23_R)


with BuildPart() as f28:
    # F27 (on face) → F28 (new body)
    with BuildSketch(Plane.XY.offset(1.5)):
        with Locations((24, -3)):
            Rectangle(F27_W, F27_H)
        with Locations((16, -3)):
            Circle(F27_R, mode=Mode.SUBTRACT)
        with Locations((32, -3)):
            Circle(F27_R, mode=Mode.SUBTRACT)
    extrude(amount=F28_DEPTH)

    # F29 (on face) → F30 (join)
    with BuildSketch(Plane.XY.offset(4.5)):
        with Locations((24, -3)):
            Circle(F29_R)
    extrude(amount=F30_DEPTH)

    # F31 (on face) → F32 (cut)
    with BuildSketch(Plane.XY.offset(16.5)):
        with Locations((24, -3)):
            Circle(F31_R)
    extrude(amount=-F32_DEPTH, mode=Mode.SUBTRACT)

    # F41 (on face) → F42 (cut)
    with BuildSketch(Plane.XY.offset(16.5)):
        with Locations((24, -3)):
            Circle(F41_R)
    extrude(amount=-F42_DEPTH, mode=Mode.SUBTRACT)


solid = Compound([f1.part, f5.part, f16.part, f20.part, f28.part])
